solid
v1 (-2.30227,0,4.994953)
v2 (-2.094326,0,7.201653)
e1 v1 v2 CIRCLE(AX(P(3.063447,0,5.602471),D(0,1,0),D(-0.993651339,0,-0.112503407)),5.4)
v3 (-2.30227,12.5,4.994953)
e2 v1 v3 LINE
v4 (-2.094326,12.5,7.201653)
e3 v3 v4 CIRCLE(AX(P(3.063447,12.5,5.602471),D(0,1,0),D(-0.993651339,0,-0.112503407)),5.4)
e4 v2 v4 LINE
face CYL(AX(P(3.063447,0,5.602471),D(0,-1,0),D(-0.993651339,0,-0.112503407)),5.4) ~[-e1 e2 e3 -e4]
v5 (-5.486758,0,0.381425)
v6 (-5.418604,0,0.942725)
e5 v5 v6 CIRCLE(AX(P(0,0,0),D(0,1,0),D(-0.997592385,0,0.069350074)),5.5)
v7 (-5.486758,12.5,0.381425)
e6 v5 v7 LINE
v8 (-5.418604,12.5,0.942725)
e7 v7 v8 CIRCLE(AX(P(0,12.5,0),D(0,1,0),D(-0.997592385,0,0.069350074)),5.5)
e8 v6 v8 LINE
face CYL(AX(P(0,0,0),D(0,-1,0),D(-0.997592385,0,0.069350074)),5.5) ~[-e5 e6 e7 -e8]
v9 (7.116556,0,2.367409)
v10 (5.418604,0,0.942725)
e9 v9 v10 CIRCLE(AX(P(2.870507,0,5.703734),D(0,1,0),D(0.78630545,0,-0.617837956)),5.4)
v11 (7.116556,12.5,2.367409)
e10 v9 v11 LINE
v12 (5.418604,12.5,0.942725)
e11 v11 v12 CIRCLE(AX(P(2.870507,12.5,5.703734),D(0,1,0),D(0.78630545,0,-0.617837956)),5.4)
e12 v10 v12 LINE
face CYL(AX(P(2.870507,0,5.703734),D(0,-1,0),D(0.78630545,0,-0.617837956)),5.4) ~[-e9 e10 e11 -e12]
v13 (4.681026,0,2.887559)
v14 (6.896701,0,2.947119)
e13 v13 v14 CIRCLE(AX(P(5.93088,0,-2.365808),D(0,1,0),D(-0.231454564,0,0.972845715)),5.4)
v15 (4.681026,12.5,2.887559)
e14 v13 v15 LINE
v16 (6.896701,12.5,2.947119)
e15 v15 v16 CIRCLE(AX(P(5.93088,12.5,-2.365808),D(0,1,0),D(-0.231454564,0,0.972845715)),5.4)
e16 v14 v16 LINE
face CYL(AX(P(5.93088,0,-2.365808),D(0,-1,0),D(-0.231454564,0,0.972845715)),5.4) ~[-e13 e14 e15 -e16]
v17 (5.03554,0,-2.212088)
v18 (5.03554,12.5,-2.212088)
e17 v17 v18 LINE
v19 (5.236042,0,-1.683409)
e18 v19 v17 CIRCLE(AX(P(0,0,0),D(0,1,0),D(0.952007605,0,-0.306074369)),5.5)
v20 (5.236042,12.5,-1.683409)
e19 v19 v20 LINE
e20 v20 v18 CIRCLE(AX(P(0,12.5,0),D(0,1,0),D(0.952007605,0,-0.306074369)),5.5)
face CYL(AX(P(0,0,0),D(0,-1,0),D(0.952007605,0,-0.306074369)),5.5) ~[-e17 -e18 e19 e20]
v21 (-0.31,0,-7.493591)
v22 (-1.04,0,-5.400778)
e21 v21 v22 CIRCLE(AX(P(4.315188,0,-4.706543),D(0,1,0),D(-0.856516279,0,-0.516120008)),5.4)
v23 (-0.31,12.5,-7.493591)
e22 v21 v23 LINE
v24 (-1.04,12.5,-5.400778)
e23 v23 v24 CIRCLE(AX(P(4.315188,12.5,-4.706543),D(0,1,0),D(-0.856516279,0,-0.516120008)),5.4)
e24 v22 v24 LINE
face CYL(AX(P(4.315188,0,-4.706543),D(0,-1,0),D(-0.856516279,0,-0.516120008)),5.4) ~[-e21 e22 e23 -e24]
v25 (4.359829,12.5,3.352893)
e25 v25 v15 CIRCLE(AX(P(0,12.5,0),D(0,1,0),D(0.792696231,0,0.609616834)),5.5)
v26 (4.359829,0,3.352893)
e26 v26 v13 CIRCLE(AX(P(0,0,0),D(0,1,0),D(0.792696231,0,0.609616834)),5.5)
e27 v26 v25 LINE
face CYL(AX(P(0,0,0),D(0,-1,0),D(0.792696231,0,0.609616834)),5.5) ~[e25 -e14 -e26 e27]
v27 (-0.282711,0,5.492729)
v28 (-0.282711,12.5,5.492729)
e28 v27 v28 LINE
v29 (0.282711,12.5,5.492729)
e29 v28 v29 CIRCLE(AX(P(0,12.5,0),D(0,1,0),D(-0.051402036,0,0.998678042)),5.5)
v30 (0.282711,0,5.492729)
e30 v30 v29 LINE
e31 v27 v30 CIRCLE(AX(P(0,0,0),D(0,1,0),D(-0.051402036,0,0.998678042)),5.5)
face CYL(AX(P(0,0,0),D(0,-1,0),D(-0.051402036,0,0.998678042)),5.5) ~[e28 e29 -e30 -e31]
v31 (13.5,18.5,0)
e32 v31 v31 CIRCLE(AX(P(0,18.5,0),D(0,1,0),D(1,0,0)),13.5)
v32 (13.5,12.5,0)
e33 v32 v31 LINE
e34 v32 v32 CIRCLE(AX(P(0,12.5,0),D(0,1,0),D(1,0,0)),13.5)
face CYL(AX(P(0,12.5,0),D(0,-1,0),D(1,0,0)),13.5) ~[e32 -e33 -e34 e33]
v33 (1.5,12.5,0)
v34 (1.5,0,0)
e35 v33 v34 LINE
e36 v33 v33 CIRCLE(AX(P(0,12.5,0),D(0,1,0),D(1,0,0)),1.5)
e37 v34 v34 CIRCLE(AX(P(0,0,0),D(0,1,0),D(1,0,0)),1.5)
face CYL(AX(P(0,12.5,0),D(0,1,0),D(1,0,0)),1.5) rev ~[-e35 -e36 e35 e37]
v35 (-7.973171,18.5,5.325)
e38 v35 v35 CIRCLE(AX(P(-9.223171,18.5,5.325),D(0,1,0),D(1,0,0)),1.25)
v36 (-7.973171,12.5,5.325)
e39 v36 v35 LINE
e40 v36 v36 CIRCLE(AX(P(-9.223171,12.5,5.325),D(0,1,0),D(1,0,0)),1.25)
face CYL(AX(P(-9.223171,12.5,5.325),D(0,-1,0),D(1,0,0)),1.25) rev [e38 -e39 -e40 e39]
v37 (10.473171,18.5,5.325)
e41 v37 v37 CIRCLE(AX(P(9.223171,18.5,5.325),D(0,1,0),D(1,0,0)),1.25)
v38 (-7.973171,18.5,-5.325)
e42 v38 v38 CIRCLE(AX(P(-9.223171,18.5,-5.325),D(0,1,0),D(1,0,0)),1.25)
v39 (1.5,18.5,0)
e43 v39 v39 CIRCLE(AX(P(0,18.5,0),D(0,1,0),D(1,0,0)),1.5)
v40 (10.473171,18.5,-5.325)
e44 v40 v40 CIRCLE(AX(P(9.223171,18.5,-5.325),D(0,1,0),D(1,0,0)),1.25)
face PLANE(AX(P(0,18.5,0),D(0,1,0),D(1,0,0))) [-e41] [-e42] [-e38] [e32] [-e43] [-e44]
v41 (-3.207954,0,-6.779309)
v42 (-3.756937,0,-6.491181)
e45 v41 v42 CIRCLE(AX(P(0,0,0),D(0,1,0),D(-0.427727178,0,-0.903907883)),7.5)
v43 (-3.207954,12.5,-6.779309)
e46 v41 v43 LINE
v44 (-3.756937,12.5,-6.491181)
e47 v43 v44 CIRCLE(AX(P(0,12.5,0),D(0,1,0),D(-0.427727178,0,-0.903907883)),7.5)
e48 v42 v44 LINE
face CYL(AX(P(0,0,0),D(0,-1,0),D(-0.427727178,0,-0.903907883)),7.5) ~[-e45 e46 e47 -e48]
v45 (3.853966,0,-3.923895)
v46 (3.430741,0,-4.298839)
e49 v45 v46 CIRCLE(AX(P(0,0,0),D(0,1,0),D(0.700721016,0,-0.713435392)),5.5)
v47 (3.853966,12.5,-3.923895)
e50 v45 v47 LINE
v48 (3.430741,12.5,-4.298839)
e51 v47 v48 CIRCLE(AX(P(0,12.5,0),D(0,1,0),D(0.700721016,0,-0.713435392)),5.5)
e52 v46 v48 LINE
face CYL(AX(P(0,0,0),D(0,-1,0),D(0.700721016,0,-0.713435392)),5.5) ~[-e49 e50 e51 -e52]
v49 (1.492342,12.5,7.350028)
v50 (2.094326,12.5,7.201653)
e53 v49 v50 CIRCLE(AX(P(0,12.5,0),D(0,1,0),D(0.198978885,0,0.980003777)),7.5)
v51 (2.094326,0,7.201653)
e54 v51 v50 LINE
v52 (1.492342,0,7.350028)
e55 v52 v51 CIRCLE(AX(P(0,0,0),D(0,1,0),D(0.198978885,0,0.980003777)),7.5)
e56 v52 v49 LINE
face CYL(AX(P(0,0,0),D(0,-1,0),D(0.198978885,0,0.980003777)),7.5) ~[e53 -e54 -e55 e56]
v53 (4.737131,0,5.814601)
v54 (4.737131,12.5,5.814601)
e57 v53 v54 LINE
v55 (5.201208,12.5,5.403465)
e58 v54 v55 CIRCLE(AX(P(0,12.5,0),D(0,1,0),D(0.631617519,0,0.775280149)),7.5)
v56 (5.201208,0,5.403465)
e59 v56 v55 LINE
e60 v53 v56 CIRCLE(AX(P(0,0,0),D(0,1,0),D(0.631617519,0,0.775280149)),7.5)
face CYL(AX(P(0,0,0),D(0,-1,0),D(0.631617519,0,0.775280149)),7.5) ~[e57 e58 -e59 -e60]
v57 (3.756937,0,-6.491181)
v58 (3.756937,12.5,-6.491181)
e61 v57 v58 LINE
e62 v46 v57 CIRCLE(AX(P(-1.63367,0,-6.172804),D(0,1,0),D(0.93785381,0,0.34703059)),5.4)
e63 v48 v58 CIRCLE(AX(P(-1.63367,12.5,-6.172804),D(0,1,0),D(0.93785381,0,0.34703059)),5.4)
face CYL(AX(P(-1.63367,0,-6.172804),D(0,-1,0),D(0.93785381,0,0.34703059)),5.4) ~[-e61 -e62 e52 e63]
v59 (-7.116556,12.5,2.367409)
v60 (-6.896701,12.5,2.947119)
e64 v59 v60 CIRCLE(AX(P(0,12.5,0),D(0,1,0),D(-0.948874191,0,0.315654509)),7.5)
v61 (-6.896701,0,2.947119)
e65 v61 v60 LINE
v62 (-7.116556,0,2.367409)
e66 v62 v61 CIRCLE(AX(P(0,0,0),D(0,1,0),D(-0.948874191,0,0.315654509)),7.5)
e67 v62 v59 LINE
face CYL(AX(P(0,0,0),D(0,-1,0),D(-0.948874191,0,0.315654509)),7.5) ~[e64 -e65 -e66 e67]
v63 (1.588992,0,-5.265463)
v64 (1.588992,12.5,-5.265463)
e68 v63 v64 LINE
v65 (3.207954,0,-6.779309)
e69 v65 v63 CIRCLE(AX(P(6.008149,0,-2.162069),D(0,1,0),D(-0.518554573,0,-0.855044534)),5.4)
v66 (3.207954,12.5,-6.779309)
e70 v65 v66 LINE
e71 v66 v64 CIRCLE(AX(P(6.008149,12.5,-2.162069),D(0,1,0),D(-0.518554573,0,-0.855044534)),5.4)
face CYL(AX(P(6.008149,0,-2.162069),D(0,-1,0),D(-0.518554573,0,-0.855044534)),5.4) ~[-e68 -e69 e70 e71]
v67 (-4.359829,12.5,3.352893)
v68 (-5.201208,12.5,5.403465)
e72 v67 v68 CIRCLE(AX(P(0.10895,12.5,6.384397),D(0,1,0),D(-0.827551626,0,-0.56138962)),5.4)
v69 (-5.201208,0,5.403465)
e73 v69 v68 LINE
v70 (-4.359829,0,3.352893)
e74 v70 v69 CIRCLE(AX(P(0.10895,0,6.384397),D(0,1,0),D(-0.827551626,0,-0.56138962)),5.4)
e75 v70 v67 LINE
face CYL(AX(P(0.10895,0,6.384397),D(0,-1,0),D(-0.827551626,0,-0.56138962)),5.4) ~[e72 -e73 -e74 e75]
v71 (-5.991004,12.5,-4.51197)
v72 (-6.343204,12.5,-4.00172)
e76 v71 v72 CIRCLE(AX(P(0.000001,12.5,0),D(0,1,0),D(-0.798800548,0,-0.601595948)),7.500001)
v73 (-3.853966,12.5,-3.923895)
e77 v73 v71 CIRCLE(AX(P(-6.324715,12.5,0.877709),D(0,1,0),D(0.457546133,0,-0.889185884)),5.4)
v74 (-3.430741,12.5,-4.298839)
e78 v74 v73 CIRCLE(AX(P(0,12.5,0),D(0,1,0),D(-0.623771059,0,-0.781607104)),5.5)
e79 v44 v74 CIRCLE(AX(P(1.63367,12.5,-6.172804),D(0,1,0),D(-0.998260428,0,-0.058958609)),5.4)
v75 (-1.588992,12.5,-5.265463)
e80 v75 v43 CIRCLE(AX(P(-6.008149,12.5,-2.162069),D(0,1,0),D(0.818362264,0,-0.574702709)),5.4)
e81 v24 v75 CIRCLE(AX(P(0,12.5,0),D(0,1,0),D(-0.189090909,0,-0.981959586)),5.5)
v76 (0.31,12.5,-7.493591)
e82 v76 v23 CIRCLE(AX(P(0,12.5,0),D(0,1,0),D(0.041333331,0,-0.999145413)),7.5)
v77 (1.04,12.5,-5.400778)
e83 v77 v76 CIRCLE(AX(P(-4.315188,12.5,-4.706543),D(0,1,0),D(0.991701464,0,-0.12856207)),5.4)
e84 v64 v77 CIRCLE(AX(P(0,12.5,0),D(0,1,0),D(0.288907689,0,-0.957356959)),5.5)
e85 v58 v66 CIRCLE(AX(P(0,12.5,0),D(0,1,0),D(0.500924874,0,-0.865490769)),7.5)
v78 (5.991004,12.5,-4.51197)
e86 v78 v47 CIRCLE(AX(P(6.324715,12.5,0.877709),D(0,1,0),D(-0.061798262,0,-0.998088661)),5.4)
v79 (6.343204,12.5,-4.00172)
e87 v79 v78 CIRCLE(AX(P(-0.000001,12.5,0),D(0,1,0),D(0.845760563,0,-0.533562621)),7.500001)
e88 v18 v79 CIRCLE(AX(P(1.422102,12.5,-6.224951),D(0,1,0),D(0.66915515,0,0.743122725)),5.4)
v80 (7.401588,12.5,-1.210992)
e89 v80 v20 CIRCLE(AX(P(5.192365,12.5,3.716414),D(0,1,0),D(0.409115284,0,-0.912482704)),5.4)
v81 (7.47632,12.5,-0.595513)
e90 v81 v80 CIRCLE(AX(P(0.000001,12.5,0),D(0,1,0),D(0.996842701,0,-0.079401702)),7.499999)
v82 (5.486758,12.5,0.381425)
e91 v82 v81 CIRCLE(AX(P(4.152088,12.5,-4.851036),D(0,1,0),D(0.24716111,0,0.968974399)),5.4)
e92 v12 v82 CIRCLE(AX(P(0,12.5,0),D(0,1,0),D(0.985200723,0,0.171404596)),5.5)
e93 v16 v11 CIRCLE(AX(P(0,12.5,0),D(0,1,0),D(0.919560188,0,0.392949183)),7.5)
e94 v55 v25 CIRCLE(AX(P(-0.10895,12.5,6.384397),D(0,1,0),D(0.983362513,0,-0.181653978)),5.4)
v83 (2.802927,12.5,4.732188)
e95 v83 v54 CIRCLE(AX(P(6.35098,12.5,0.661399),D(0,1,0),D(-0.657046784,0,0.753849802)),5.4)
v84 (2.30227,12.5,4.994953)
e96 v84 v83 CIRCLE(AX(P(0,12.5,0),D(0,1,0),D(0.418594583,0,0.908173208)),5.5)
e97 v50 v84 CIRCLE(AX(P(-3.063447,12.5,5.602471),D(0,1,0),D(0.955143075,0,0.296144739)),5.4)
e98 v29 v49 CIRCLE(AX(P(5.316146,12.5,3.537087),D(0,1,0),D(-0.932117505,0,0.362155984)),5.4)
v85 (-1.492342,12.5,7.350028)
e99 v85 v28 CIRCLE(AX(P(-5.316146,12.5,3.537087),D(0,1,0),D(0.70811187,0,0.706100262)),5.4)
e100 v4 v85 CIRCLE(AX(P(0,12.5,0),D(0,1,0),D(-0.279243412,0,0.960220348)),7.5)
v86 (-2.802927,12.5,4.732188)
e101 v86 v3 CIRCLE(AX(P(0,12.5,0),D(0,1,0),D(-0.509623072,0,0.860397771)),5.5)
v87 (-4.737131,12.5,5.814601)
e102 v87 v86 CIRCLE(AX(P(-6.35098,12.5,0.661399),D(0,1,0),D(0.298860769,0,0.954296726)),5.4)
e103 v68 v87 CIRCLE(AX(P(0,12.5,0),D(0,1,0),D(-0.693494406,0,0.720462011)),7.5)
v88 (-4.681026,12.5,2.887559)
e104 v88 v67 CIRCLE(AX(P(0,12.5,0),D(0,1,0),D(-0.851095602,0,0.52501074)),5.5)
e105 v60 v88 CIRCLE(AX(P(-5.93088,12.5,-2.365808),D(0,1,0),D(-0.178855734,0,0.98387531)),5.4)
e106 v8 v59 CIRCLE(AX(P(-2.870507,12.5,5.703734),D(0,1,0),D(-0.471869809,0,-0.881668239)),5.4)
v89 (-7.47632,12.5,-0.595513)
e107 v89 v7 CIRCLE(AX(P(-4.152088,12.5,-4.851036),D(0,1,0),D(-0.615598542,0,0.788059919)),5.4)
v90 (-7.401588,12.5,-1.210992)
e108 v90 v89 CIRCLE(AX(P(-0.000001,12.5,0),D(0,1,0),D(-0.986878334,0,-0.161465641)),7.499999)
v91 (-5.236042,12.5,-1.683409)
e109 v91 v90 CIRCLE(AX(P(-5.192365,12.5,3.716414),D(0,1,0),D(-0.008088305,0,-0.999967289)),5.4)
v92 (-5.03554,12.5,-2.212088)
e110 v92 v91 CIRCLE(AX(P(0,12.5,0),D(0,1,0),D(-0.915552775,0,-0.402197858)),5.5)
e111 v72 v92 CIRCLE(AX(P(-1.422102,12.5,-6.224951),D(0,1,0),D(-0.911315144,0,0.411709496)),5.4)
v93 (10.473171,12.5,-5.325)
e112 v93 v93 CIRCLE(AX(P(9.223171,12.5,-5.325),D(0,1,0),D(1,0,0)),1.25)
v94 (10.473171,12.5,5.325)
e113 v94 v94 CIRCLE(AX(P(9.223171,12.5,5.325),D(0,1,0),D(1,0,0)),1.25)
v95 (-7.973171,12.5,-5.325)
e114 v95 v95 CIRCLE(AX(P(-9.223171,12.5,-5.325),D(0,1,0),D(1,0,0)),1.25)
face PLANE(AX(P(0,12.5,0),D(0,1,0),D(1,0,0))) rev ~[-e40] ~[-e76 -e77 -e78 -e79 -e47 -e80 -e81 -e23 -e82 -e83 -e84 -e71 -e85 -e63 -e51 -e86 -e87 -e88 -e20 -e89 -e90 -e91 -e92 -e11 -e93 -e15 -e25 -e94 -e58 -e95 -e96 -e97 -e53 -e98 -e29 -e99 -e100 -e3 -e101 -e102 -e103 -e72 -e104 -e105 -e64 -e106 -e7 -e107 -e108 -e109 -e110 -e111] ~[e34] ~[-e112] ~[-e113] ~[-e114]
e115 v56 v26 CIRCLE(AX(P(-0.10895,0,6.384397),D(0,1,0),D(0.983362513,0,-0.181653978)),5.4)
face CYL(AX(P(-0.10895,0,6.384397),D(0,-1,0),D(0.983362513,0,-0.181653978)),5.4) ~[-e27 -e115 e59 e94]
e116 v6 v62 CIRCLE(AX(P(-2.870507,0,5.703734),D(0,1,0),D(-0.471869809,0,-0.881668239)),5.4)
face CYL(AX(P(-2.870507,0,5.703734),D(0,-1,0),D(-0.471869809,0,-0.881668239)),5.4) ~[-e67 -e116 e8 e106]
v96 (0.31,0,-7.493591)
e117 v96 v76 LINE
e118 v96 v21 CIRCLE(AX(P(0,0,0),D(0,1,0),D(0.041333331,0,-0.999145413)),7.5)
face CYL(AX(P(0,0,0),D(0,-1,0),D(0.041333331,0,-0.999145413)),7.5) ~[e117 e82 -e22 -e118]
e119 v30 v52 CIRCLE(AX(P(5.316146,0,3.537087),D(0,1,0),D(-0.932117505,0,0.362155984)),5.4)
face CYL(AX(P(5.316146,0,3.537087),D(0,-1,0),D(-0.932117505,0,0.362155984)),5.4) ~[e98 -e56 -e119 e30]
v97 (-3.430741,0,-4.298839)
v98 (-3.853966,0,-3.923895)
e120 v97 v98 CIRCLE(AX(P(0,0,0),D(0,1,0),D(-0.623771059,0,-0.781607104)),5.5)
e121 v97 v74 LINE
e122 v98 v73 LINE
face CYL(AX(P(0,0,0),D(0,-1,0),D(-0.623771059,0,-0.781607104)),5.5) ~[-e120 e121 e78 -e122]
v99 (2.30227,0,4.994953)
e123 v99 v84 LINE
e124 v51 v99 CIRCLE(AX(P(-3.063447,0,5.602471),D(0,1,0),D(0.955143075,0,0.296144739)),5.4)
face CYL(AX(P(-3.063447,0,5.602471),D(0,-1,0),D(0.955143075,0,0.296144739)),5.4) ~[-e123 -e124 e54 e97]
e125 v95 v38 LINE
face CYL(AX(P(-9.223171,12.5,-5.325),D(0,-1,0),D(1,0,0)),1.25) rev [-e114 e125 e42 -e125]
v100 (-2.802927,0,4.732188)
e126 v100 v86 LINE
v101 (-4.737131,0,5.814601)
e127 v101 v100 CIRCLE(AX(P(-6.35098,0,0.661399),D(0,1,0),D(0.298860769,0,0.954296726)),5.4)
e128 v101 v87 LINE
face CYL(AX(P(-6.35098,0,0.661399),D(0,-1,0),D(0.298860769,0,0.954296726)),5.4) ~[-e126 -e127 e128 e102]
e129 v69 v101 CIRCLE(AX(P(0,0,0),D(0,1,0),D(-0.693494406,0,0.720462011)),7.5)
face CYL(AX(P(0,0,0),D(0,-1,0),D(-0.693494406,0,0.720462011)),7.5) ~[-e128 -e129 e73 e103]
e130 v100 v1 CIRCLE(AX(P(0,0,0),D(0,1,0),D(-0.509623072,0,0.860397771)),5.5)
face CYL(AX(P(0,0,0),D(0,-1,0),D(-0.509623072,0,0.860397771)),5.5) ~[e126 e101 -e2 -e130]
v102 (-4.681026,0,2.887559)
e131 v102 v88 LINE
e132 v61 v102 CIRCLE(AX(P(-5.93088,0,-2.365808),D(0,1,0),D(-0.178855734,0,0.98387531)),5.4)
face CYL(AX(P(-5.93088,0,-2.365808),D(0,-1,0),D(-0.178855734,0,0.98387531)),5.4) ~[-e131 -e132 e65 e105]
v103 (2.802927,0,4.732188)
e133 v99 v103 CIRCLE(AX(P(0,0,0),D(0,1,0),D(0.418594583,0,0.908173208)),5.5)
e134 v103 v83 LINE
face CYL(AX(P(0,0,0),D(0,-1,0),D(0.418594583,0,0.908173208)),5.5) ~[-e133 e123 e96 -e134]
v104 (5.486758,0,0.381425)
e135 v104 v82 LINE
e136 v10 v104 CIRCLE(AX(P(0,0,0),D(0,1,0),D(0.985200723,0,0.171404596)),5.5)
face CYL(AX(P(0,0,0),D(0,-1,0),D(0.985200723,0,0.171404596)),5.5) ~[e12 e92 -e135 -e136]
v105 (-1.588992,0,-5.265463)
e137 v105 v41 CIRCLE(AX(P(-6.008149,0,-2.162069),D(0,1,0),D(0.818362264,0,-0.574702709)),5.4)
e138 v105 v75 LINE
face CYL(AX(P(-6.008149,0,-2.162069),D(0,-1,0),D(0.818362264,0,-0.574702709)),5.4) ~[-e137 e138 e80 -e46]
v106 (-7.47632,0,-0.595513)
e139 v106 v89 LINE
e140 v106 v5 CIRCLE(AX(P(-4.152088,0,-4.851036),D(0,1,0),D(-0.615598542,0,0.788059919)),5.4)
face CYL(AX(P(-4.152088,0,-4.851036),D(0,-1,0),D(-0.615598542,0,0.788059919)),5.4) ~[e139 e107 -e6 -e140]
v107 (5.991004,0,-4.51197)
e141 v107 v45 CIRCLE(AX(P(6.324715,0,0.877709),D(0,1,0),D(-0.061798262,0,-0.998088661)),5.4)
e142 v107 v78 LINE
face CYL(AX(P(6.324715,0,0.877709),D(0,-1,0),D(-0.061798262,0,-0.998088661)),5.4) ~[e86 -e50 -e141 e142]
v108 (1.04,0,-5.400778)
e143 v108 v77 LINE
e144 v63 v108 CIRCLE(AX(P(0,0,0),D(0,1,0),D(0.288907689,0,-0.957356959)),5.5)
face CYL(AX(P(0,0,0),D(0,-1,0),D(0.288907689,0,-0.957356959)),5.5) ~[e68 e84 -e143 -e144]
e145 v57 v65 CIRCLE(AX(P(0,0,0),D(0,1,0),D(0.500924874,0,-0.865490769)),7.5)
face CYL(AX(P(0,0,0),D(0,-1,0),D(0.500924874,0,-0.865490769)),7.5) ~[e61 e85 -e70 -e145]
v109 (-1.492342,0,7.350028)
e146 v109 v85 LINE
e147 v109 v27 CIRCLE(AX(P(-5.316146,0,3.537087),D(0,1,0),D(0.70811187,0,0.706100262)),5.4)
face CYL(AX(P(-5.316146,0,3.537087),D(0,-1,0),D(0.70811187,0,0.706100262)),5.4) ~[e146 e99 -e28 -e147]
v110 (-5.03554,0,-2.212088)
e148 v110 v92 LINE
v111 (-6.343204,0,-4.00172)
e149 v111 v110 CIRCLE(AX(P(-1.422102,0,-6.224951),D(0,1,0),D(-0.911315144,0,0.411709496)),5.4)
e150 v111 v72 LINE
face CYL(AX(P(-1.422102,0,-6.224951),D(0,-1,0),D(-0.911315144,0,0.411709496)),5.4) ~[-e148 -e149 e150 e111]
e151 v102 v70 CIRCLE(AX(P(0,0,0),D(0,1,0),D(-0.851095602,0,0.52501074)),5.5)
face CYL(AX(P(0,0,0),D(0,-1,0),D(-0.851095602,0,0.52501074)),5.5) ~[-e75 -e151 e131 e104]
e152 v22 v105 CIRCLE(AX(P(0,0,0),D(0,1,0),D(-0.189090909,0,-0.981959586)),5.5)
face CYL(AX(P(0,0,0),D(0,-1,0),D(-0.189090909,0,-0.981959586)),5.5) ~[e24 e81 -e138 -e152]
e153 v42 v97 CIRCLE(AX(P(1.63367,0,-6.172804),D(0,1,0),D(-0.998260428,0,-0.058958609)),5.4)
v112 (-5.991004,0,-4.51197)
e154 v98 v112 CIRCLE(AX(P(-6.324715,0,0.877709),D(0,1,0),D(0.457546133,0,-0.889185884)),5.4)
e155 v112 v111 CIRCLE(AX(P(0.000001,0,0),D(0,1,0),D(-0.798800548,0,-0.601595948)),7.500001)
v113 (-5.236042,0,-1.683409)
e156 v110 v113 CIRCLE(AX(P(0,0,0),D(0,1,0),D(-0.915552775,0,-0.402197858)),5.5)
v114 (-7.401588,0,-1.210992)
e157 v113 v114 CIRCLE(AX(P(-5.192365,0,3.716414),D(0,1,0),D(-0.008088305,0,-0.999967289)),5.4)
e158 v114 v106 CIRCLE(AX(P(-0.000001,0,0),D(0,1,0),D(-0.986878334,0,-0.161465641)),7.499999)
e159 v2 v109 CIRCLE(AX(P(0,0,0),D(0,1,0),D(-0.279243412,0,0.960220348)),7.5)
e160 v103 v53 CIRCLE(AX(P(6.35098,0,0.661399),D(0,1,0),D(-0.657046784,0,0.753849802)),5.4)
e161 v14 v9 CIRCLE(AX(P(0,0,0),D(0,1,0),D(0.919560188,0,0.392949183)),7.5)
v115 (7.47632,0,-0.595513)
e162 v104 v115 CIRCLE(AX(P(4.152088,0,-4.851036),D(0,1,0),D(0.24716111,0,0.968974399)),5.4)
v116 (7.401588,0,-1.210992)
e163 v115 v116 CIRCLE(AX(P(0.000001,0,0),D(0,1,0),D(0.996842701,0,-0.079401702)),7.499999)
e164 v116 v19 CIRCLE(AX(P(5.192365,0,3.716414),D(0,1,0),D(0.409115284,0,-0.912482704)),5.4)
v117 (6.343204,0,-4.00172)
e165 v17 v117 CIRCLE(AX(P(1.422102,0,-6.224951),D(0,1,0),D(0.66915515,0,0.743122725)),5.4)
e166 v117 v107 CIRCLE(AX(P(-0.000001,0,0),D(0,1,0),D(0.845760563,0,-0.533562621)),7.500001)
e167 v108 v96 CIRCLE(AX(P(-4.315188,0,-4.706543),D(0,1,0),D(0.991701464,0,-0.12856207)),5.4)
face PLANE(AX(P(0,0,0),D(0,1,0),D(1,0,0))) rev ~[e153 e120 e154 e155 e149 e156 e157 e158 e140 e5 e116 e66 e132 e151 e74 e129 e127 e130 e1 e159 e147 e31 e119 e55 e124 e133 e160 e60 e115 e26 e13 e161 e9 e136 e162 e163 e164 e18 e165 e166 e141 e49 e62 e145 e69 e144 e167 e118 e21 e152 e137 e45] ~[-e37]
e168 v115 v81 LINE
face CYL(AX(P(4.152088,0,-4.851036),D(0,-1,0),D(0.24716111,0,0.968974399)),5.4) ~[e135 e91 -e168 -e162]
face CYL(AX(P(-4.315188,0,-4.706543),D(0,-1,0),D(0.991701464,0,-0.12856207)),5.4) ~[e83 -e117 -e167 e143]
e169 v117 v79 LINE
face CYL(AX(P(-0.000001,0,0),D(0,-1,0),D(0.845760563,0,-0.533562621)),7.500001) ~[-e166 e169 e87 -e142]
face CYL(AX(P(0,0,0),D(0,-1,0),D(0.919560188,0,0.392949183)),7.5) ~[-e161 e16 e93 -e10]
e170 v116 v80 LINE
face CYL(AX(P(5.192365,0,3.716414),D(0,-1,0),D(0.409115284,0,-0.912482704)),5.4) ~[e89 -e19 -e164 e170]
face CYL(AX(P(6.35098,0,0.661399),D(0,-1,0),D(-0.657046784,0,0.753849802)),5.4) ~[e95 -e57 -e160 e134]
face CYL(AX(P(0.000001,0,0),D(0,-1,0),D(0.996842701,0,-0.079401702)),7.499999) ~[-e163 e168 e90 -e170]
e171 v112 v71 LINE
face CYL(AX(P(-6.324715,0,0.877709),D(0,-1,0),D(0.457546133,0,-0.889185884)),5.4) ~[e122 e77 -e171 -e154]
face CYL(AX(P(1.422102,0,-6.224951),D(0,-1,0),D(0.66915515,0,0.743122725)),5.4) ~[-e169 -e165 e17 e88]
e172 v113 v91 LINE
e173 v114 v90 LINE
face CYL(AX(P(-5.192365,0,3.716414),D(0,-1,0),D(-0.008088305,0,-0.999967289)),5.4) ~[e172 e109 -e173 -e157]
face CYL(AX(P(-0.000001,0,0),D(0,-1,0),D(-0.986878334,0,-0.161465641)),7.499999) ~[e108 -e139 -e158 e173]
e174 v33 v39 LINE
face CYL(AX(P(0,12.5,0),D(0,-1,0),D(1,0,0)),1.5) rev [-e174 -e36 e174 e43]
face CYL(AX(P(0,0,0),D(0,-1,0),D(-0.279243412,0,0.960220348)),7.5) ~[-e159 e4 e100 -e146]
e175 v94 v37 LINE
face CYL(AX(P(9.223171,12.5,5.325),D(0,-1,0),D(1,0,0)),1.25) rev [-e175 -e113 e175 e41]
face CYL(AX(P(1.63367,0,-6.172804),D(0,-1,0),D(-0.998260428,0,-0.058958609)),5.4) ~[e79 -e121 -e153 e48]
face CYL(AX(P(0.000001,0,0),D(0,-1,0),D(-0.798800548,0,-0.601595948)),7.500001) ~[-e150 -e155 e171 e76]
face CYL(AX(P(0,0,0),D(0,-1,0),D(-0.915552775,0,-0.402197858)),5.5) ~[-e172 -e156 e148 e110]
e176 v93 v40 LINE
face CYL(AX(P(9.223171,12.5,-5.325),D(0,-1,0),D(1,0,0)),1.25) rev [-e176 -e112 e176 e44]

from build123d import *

# Parameters (mm, degrees)
BOSS_EXTRUDE1_DEPTH      = 12.5
SKETCH2_R                = 1.5
CUT_EXTRUDE1_DEPTH       = 13.5
ESBO_O1_R                = 13.5
ESBO_O1_R_2              = 1.5
ESBO_O1_R_3              = 1.25
RESSALTO_EXTRUS_O1_DEPTH = 6


with BuildPart() as part:
    # Sketch1 → Boss-Extrude1 (new body)
    with BuildSketch(Plane(origin=(0, 0, 0), x_dir=(1, 0, 0), z_dir=(0, 1, 0))):
        with BuildLine():
            ThreePointArc((1.04, 5.400777722), (0.783531714, 6.485041414), (0.31, 7.493590595))
            ThreePointArc((0.31, 7.493590595), (0, 7.5), (-0.31, 7.493590595))
            ThreePointArc((-0.31, 7.493590595), (-0.783531714, 6.485041414), (-1.04, 5.400777722))
            ThreePointArc((-1.04, 5.400777722), (-1.316236154, 5.340179996), (-1.588992288, 5.265463276))
            ThreePointArc((-1.588992288, 5.265463276), (-2.319966139, 6.10634434), (-3.207953823, 6.779309129))
            ThreePointArc((-3.207953823, 6.779309129), (-3.48542379, 6.640920192), (-3.756936559, 6.491180762))
            ThreePointArc((-3.756936559, 6.491180762), (-3.707531894, 5.378093653), (-3.430740821, 4.298839078))
            ThreePointArc((-3.430740821, 4.298839078), (-3.64717462, 4.116809115), (-3.853965592, 3.923894649))
            ThreePointArc((-3.853965592, 3.923894649), (-4.891987708, 4.328757368), (-5.991004086, 4.511969642))
            ThreePointArc((-5.991004086, 4.511969642), (-6.172378994, 4.2604856), (-6.343204228, 4.001719645))
            ThreePointArc((-6.343204228, 4.001719645), (-5.782181198, 3.039089449), (-5.035540265, 2.212088208))
            ThreePointArc((-5.035540265, 2.212088208), (-5.142589335, 1.950326879), (-5.236041824, 1.683409046))
            ThreePointArc((-5.236041824, 1.683409046), (-6.343313848, 1.559504249), (-7.401587511, 1.210992284))
            ThreePointArc((-7.401587511, 1.210992284), (-7.445316556, 0.904025102), (-7.476320253, 0.595512782))
            ThreePointArc((-7.476320253, 0.595512782), (-6.532202472, 0.003866477), (-5.486758119, -0.381425412))
            ThreePointArc((-5.486758119, -0.381425412), (-5.459898808, -0.662951741), (-5.418603976, -0.942725282))
            ThreePointArc((-5.418603976, -0.942725282), (-6.341463231, -1.567012498), (-7.116556437, -2.367408811))
            ThreePointArc((-7.116556437, -2.367408811), (-7.01262182, -2.659536653), (-6.896701407, -2.947118882))
            ThreePointArc((-6.896701407, -2.947118882), (-5.785774881, -3.032242258), (-4.68102581, -2.887559066))
            ThreePointArc((-4.68102581, -2.887559066), (-4.526411262, -3.124356107), (-4.359829258, -3.352892609))
            ThreePointArc((-4.359829258, -3.352892609), (-4.886859811, -4.334545567), (-5.201208047, -5.403465078))
            ThreePointArc((-5.201208047, -5.403465078), (-4.973419937, -5.613830611), (-4.737131383, -5.814601127))
            ThreePointArc((-4.737131383, -5.814601127), (-3.713895991, -5.373700834), (-2.802926901, -4.732187738))
            ThreePointArc((-2.802926901, -4.732187738), (-2.555977446, -4.870008141), (-2.302270198, -4.994952646))
            ThreePointArc((-2.302270198, -4.994952646), (-2.312735701, -6.109086484), (-2.094325574, -7.201652615))
            ThreePointArc((-2.094325574, -7.201652615), (-1.794867482, -7.282063631), (-1.492341648, -7.350028327))
            ThreePointArc((-1.492341648, -7.350028327), (-0.791208287, -6.484109309), (-0.282711218, -5.492729228))
            ThreePointArc((-0.282711218, -5.492729228), (0, -5.5), (0.282711218, -5.492729228))
            ThreePointArc((0.282711218, -5.492729228), (0.791208287, -6.484109309), (1.492341648, -7.350028327))
            ThreePointArc((1.492341648, -7.350028327), (1.794867482, -7.282063631), (2.094325574, -7.201652615))
            ThreePointArc((2.094325574, -7.201652615), (2.312735701, -6.109086484), (2.302270198, -4.994952646))
            ThreePointArc((2.302270198, -4.994952646), (2.555977446, -4.870008141), (2.802926901, -4.732187738))
            ThreePointArc((2.802926901, -4.732187738), (3.713895991, -5.373700834), (4.737131383, -5.814601127))
            ThreePointArc((4.737131383, -5.814601127), (4.973419937, -5.613830611), (5.201208047, -5.403465078))
            ThreePointArc((5.201208047, -5.403465078), (4.886859811, -4.334545567), (4.359829258, -3.352892609))
            ThreePointArc((4.359829258, -3.352892609), (4.526411262, -3.124356107), (4.68102581, -2.887559066))
            ThreePointArc((4.68102581, -2.887559066), (5.785774881, -3.032242258), (6.896701407, -2.947118882))
            ThreePointArc((6.896701407, -2.947118882), (7.01262182, -2.659536653), (7.116556437, -2.367408811))
            ThreePointArc((7.116556437, -2.367408811), (6.341463231, -1.567012498), (5.418603976, -0.942725282))
            ThreePointArc((5.418603976, -0.942725282), (5.459898808, -0.662951741), (5.486758119, -0.381425412))
            ThreePointArc((5.486758119, -0.381425412), (6.532202472, 0.003866477), (7.476320253, 0.595512782))
            ThreePointArc((7.476320253, 0.595512782), (7.445316556, 0.904025102), (7.401587511, 1.210992284))
            ThreePointArc((7.401587511, 1.210992284), (6.343313848, 1.559504249), (5.236041824, 1.683409046))
            ThreePointArc((5.236041824, 1.683409046), (5.142589335, 1.950326879), (5.035540265, 2.212088208))
            ThreePointArc((5.035540265, 2.212088208), (5.782181198, 3.039089449), (6.343204228, 4.001719645))
            ThreePointArc((6.343204228, 4.001719645), (6.172378994, 4.2604856), (5.991004086, 4.511969642))
            ThreePointArc((5.991004086, 4.511969642), (4.891987708, 4.328757368), (3.853965592, 3.923894649))
            ThreePointArc((3.853965592, 3.923894649), (3.64717462, 4.116809115), (3.430740821, 4.298839078))
            ThreePointArc((3.430740821, 4.298839078), (3.707531894, 5.378093653), (3.756936559, 6.491180762))
            ThreePointArc((3.756936559, 6.491180762), (3.48542379, 6.640920192), (3.207953823, 6.779309129))
            ThreePointArc((3.207953823, 6.779309129), (2.319966139, 6.10634434), (1.588992288, 5.265463276))
            ThreePointArc((1.588992288, 5.265463276), (1.316236154, 5.340179996), (1.04, 5.400777722))
        make_face()
    extrude(amount=BOSS_EXTRUDE1_DEPTH)

    # Sketch2 → Cut-Extrude1 (cut, through all)
    with BuildSketch(Plane(origin=(0, 12.5, 0), x_dir=(1, 0, 0), z_dir=(0, 1, 0))):
        Circle(SKETCH2_R)
    extrude(amount=-CUT_EXTRUDE1_DEPTH, mode=Mode.SUBTRACT)

    # Esboço1 → Ressalto-extrusão1 (add)
    with BuildSketch(Plane(origin=(0, 12.5, 0), x_dir=(1, 0, 0), z_dir=(0, 1, 0))):
        Circle(ESBO_O1_R)
        Circle(ESBO_O1_R_2, mode=Mode.SUBTRACT)
        with Locations((9.22317055, 5.325)):
            Circle(ESBO_O1_R_3, mode=Mode.SUBTRACT)
        with Locations((9.22317055, -5.325)):
            Circle(ESBO_O1_R_3, mode=Mode.SUBTRACT)
        with Locations((-9.22317055, -5.325)):
            Circle(ESBO_O1_R_3, mode=Mode.SUBTRACT)
        with Locations((-9.22317055, 5.325)):
            Circle(ESBO_O1_R_3, mode=Mode.SUBTRACT)
    extrude(amount=RESSALTO_EXTRUS_O1_DEPTH)


solid = part.part
